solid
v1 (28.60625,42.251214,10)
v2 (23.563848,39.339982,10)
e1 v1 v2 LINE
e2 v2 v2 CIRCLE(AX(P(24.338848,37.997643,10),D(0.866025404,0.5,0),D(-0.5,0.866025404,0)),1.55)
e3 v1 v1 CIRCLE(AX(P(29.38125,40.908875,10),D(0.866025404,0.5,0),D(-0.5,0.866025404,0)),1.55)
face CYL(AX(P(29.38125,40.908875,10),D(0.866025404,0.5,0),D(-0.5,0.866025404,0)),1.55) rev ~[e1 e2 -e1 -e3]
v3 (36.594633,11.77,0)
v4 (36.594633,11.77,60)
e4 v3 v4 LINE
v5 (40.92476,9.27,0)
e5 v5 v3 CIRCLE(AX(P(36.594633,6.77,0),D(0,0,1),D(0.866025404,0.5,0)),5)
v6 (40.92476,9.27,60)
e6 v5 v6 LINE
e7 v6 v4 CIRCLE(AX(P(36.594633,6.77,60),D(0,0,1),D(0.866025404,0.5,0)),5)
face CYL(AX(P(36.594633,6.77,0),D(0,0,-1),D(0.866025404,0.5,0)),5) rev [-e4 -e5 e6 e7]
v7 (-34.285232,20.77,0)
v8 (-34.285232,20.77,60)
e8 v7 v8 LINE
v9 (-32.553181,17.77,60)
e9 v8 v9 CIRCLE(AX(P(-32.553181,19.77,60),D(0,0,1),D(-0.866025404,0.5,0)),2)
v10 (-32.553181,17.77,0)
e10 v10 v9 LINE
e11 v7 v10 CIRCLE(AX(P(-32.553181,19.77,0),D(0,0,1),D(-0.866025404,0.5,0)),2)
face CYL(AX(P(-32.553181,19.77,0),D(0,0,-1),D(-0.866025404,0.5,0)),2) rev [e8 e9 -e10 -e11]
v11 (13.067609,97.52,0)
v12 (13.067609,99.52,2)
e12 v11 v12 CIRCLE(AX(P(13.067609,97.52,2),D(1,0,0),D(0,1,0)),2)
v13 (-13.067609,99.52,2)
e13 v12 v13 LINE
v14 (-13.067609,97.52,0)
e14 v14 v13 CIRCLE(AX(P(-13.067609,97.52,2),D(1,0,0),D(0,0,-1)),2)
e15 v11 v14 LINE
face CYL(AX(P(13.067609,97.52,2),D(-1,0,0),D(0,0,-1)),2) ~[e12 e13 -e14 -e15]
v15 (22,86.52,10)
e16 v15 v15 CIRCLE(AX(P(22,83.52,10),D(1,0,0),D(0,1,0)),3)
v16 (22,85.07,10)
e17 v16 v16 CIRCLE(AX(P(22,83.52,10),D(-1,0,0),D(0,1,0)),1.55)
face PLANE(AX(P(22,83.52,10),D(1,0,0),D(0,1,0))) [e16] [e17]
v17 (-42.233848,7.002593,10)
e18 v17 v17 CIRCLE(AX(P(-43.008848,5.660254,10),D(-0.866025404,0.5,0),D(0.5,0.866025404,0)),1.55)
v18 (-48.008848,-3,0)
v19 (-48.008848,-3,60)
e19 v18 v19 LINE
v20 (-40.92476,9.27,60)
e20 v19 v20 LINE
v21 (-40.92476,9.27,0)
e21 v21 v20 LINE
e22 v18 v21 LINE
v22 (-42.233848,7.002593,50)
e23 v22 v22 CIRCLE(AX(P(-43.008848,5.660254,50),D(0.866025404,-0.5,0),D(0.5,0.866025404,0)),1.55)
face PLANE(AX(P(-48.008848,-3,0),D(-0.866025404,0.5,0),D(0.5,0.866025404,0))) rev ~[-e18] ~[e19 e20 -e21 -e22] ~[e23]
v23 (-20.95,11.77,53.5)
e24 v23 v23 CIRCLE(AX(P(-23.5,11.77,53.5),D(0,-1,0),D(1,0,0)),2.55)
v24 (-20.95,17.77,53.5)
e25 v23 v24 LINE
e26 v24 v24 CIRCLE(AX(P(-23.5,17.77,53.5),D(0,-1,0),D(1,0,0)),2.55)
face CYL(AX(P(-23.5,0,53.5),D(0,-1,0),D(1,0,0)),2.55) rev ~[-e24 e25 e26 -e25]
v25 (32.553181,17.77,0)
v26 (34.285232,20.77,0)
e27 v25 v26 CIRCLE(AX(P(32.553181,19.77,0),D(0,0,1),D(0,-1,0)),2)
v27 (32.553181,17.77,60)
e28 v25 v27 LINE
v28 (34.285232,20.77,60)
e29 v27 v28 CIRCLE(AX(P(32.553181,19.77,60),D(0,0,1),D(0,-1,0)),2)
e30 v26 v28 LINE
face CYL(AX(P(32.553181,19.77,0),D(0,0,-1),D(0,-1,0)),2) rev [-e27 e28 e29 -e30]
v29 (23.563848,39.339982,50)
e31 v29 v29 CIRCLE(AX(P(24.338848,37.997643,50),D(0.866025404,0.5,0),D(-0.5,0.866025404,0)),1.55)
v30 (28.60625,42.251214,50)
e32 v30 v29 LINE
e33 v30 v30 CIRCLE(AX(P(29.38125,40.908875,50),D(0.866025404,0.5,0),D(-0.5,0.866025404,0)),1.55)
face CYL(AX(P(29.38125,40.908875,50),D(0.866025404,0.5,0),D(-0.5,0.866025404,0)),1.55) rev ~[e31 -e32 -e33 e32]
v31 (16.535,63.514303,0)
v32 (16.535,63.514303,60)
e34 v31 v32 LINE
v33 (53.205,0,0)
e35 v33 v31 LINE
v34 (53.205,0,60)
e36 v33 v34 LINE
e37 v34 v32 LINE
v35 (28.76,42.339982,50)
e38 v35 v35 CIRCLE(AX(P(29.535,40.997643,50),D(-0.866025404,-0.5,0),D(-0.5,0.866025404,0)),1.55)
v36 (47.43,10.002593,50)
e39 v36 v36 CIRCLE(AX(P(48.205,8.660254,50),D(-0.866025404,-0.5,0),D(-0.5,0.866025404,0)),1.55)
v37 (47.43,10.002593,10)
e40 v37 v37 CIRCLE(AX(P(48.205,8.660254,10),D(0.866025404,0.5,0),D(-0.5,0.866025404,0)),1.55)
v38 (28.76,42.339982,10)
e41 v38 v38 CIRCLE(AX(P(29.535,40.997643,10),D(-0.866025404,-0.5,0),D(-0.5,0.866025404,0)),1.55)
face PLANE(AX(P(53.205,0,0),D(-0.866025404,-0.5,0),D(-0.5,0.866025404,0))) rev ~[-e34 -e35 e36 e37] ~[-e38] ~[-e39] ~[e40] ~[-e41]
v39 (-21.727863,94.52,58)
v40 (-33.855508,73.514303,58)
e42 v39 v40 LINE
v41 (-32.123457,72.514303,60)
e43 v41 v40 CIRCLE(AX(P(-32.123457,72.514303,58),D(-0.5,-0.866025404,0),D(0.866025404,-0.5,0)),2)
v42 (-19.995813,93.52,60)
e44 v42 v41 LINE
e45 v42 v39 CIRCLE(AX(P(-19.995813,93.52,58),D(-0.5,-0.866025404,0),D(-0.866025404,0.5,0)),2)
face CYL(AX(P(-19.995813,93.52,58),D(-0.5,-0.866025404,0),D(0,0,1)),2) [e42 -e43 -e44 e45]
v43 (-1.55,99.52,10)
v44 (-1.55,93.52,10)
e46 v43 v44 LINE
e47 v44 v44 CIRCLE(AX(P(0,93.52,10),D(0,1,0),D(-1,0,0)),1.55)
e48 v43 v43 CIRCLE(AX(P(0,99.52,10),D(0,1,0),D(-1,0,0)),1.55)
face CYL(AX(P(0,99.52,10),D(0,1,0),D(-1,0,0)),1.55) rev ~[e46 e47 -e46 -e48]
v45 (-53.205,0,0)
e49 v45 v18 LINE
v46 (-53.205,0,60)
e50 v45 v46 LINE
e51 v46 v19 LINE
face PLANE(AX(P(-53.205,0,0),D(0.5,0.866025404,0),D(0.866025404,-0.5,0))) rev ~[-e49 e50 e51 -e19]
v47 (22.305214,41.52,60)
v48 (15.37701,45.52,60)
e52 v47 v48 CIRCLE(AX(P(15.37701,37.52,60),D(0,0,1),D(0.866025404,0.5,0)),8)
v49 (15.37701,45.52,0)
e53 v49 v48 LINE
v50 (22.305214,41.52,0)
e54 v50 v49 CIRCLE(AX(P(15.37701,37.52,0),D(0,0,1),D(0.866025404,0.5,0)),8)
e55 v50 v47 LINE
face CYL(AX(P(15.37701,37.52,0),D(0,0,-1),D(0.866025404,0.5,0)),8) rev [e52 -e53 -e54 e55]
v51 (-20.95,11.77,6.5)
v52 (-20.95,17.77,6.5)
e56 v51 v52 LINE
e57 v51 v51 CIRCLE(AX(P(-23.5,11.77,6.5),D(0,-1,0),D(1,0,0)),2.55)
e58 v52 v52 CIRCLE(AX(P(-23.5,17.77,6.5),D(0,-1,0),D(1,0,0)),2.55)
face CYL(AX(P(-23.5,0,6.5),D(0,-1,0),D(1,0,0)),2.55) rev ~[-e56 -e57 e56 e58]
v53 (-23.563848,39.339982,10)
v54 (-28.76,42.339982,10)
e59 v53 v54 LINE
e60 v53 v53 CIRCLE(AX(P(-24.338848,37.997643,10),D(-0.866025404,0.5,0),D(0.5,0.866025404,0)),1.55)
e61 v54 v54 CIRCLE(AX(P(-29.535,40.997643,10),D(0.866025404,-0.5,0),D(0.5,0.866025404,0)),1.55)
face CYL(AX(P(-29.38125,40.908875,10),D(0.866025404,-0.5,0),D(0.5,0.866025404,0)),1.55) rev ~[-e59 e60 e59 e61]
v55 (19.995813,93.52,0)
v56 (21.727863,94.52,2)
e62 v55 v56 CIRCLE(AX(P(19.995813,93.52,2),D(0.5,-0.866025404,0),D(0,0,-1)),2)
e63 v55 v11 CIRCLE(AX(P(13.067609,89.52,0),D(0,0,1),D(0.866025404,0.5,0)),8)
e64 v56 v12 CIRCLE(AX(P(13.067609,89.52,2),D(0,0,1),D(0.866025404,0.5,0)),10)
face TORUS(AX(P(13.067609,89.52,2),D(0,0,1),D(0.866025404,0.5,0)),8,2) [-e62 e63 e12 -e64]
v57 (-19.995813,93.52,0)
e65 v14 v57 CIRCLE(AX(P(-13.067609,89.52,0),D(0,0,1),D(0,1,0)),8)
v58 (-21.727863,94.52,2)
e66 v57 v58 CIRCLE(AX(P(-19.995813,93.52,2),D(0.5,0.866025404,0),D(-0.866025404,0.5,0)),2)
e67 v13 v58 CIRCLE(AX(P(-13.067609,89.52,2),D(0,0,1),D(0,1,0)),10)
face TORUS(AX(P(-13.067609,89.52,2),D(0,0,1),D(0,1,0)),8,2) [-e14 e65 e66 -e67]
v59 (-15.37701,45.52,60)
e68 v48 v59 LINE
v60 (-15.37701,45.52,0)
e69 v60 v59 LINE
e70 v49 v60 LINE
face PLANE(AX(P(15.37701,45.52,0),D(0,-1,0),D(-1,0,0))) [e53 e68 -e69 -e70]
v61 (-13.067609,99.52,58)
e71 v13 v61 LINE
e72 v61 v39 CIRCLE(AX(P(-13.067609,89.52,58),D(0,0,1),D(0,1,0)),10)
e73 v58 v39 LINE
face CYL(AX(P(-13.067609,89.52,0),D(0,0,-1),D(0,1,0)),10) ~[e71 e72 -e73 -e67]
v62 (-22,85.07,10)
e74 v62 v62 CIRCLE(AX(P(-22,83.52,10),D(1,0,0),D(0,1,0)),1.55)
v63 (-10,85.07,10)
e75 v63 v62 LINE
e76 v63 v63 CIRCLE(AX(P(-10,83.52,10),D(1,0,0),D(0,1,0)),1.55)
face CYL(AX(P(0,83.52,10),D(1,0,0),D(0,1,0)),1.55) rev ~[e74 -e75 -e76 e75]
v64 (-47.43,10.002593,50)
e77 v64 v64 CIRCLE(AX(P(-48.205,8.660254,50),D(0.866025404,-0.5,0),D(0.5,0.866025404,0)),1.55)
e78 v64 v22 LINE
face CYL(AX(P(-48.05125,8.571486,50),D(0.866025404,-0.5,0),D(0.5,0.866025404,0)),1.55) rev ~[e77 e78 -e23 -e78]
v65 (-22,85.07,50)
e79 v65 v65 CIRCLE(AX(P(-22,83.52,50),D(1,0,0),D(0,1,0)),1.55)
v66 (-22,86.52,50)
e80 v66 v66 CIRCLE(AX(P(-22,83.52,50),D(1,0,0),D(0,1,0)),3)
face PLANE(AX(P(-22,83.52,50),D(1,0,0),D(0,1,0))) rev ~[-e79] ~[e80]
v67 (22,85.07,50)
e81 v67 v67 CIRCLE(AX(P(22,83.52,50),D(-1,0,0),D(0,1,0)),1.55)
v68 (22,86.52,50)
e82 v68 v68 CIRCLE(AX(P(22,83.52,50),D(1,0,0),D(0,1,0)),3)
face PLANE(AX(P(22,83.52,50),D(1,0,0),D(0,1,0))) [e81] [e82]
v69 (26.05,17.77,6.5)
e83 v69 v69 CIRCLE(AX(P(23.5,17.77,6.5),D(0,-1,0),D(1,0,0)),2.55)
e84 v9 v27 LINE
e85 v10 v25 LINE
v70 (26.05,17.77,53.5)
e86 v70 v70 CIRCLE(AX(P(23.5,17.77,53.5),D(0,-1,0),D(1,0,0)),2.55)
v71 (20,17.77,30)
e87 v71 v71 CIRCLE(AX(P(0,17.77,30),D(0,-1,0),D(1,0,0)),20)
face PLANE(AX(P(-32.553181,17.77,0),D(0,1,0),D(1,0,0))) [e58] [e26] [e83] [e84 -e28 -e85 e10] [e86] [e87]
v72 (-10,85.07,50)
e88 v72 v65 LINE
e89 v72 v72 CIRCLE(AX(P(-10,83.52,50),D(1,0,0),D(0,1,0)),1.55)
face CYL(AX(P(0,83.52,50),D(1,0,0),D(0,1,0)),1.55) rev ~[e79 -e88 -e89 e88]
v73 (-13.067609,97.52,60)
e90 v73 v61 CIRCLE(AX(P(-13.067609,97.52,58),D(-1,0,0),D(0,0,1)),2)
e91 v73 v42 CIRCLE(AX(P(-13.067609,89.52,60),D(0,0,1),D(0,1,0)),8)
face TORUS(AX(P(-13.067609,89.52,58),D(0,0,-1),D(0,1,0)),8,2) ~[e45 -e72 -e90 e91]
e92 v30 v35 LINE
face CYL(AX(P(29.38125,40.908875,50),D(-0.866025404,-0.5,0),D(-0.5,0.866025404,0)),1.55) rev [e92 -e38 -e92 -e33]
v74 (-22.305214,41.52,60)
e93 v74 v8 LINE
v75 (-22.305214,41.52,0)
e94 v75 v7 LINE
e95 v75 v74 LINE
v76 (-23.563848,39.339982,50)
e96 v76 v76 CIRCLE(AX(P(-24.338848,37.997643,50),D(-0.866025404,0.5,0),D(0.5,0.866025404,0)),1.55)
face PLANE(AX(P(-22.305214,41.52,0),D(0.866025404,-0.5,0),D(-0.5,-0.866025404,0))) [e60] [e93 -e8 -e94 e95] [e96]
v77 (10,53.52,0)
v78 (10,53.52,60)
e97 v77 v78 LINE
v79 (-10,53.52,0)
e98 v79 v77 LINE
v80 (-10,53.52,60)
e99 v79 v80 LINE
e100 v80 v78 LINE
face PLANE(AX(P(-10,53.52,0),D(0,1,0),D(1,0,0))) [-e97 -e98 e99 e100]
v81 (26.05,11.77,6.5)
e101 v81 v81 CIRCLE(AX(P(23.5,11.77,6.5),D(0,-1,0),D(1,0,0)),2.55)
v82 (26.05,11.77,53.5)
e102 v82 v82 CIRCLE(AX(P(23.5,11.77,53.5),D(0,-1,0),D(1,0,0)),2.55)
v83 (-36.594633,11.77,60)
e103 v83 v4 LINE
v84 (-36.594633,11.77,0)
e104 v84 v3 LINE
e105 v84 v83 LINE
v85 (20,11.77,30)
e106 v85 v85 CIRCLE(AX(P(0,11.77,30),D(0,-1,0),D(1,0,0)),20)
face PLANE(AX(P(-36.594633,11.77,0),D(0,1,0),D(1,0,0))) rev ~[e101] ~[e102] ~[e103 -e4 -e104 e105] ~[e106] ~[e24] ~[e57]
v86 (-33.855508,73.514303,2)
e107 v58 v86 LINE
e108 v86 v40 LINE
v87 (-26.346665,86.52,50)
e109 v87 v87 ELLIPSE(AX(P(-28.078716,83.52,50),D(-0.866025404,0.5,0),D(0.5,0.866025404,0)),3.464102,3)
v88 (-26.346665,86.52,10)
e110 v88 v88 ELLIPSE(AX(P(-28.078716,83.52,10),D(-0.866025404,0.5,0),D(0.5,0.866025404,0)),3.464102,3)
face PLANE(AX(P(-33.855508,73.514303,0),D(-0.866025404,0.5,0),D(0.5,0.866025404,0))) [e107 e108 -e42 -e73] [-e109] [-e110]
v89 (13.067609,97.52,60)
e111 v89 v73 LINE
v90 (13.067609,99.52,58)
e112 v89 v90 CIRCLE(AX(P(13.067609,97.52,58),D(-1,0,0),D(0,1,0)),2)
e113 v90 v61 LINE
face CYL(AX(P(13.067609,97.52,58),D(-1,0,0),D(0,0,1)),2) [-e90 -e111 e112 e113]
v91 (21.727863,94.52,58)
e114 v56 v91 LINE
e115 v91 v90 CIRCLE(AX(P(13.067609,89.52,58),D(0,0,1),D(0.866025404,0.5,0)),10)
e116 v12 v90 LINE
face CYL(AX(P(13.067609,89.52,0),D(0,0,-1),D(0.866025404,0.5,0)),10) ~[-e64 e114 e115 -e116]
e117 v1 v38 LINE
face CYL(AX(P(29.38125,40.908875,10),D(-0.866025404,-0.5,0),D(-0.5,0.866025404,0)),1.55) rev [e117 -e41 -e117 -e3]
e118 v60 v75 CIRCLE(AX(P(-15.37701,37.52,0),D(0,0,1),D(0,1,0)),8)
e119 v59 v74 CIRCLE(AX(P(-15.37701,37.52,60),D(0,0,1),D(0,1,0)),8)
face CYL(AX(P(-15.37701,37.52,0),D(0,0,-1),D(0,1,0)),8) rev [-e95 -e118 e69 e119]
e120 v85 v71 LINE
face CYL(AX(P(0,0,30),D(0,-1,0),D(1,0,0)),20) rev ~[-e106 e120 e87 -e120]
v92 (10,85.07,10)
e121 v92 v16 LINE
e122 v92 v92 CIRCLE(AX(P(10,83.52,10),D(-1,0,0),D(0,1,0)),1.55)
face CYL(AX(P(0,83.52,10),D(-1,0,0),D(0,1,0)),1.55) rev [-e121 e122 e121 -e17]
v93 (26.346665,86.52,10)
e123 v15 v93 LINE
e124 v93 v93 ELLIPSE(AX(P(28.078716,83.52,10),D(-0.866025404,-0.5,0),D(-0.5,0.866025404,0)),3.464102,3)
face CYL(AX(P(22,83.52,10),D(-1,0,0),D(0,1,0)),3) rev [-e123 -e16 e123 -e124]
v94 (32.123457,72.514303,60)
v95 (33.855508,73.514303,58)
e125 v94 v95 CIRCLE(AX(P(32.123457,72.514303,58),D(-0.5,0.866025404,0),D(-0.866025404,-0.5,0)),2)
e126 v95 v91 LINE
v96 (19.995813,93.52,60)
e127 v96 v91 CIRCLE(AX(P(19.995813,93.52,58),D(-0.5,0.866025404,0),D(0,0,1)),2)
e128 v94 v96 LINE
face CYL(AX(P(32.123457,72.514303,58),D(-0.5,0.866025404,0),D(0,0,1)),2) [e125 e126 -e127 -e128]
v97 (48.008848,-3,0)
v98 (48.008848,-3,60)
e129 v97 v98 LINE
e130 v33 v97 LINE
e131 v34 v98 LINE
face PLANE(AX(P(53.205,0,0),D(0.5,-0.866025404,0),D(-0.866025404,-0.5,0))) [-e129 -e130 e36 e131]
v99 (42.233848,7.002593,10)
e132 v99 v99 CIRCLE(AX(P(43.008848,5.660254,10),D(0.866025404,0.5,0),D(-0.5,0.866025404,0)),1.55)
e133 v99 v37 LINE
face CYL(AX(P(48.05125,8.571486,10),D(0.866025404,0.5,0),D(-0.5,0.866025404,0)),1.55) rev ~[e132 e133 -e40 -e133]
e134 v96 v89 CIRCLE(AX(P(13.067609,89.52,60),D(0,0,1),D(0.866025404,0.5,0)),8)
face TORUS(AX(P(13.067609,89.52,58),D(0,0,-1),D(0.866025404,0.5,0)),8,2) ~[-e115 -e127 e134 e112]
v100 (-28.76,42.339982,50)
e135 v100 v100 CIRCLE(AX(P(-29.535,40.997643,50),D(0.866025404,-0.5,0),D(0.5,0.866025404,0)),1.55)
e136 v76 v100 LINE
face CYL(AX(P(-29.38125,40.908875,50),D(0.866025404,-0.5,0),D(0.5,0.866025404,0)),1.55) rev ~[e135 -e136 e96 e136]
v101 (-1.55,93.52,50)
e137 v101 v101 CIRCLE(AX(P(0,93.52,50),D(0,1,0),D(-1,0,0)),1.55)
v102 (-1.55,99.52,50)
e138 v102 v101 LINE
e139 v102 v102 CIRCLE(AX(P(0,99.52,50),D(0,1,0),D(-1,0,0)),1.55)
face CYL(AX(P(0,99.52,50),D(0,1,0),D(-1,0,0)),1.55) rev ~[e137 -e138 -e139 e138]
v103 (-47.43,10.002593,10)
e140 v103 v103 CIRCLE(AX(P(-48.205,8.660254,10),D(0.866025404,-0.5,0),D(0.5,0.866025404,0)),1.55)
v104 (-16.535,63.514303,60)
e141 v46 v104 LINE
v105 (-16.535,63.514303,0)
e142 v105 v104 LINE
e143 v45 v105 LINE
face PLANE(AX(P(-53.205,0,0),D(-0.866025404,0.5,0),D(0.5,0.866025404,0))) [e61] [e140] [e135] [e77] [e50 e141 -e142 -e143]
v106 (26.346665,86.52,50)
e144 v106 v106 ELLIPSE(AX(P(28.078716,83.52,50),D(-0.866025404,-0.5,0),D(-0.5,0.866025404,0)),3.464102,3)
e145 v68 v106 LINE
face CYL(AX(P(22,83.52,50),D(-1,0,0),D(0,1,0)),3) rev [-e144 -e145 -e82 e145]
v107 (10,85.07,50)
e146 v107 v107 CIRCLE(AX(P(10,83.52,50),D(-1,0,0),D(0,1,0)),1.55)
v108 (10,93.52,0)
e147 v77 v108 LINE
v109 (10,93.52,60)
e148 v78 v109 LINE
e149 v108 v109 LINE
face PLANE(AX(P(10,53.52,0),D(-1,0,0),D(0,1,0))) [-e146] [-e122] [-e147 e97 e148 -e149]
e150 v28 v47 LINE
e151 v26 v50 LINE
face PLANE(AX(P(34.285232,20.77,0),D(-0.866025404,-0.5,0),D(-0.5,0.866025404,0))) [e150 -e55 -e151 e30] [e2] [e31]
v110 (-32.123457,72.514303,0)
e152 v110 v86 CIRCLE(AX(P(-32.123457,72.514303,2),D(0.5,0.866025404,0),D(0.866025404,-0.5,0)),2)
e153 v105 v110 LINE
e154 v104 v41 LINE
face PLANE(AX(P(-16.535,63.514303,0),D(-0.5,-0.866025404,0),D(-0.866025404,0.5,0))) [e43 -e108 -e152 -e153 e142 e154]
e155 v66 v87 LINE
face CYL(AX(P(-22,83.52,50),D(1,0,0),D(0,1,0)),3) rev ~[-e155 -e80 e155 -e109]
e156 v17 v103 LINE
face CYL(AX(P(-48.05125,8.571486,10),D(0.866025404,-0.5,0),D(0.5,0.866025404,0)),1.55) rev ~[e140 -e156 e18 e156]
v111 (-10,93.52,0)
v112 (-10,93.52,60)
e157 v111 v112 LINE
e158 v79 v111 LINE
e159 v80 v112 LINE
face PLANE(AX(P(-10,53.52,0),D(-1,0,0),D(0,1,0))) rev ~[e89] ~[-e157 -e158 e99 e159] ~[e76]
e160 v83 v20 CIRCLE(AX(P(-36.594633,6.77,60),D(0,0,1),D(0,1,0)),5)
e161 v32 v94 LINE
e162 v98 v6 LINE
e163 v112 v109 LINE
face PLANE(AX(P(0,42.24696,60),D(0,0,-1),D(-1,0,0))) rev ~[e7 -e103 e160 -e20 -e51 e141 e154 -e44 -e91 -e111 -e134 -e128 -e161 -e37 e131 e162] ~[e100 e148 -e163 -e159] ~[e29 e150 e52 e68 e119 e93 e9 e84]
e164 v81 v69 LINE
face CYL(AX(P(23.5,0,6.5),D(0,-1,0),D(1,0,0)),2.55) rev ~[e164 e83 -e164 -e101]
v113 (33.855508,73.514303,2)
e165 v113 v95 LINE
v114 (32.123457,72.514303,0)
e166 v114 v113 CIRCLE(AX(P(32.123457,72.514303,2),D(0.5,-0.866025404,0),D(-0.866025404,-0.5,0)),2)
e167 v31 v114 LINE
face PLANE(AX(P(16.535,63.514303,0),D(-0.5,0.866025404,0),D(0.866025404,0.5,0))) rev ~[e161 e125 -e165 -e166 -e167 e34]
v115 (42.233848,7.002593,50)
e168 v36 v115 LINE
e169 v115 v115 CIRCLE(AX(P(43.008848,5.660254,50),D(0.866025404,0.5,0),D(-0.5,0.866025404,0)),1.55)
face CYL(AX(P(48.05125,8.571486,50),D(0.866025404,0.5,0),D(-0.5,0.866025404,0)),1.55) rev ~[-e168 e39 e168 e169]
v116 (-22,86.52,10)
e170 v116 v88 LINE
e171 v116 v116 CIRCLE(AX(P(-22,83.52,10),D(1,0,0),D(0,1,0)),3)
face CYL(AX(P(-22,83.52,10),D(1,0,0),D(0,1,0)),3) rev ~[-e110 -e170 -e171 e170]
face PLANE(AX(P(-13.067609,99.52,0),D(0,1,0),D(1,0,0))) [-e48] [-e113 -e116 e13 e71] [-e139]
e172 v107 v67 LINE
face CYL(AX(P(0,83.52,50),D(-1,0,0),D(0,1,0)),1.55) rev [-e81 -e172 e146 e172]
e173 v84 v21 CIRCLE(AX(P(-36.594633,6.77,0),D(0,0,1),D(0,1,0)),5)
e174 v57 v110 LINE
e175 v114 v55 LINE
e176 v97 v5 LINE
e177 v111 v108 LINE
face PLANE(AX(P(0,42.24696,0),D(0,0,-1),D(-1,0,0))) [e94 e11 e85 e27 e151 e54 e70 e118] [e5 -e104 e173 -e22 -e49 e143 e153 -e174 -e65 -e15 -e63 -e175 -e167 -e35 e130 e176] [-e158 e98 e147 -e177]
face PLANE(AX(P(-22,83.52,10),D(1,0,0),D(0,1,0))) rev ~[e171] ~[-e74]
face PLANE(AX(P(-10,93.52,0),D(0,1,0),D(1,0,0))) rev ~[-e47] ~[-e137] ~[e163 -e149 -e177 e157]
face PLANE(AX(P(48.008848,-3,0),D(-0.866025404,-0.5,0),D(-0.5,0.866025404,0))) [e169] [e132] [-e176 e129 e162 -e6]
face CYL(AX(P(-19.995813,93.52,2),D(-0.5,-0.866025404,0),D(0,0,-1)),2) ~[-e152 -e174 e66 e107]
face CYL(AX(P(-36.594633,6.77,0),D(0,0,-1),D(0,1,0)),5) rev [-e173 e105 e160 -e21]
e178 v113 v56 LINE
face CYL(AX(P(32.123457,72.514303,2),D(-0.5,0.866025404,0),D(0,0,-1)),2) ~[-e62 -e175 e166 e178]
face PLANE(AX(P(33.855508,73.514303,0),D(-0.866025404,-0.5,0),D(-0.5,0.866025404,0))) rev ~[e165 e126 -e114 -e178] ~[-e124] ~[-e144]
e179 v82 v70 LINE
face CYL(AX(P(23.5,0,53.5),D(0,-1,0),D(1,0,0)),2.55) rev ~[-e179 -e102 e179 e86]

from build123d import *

# Parameters (mm, degrees)
SKETCH_W             = 20
SKETCH_H             = 40
PAD_DEPTH            = 60
SKETCH001_R          = 1.55
POCKET_DEPTH         = 6
SKETCH002_R          = 1.55
POCKET001_DEPTH      = 6
SKETCH004_R          = 1.55
POCKET003_DEPTH      = 8
SKETCH005_R          = 20
SKETCH005_R_2        = 2.55
POCKET004_DEPTH      = 20
SKETCH013_R          = 1.55
POCKET011_DEPTH      = 53.206
POCKET011_DEPTH_BACK = 53.206
SKETCH014_R          = 3
POCKET012_DEPTH      = 31.206
SKETCH015_R          = 3
POCKET013_DEPTH      = 31.206
FILLET_R             = 2


with BuildPart() as part:
    # Sketch → Pad (new body)
    with BuildSketch(Plane.XY):
        with BuildLine():
            Line((-53.205, 0), (-16.535, 63.5143031136))
            Line((-16.535, 63.5143031136), (-33.8555080757, 73.5143031136))
            Line((-33.8555080757, 73.5143031136), (-21.7278633238, 94.52))
            ThreePointArc((-13.0676092859, 99.52), (-18.0676092859, 98.1802540378), (-21.7278633238, 94.52))
            Line((-13.0676092859, 99.52), (13.0676092859, 99.52))
            ThreePointArc((21.7278633238, 94.52), (18.0676092859, 98.1802540378), (13.0676092859, 99.52))
            Line((33.8555080757, 73.5143031136), (21.7278633238, 94.52))
            Line((16.535, 63.5143031136), (33.8555080757, 73.5143031136))
            Line((53.205, 0), (16.535, 63.5143031136))
            Line((53.205, 0), (48.0088475773, -3))
            Line((48.0088475773, -3), (40.9247597743, 9.27))
            ThreePointArc((40.9247597743, 9.27), (39.0946327554, 11.1001270189), (36.5946327554, 11.77))
            Line((-36.5946327554, 11.77), (36.5946327554, 11.77))
            ThreePointArc((-36.5946327554, 11.77), (-39.0946327554, 11.1001270189), (-40.9247597743, 9.27))
            Line((-48.0088475773, -3), (-40.9247597743, 9.27))
            Line((-53.205, 0), (-48.0088475773, -3))
        make_face()
        with Locations((0, 73.52)):
            Rectangle(SKETCH_W, SKETCH_H, mode=Mode.SUBTRACT)
        with BuildLine():
            Line((-22.305213593, 41.52), (-34.2852316787, 20.77))
            ThreePointArc((-34.2852316787, 20.77), (-34.2852316787, 18.77), (-32.5531808711, 17.77))
            Line((-32.5531808711, 17.77), (32.5531808711, 17.77))
            ThreePointArc((32.5531808711, 17.77), (34.2852316787, 18.77), (34.2852316787, 20.77))
            Line((34.2852316787, 20.77), (22.305213593, 41.52))
            ThreePointArc((22.305213593, 41.52), (19.3770103627, 44.4482032303), (15.3770103627, 45.52))
            Line((15.3770103627, 45.52), (-15.3770103627, 45.52))
            ThreePointArc((-15.3770103627, 45.52), (-19.3770103627, 44.4482032303), (-22.305213593, 41.52))
        make_face(mode=Mode.SUBTRACT)
    extrude(amount=PAD_DEPTH)

    # Sketch001 (on DatumPlane) → Pocket (cut, symmetric)
    with BuildSketch(Plane(origin=(53, 0, 0), x_dir=(-0.5, 0.8660254038, 0), z_dir=(0.8660254038, 0.5, 0))):
        with Locations((47.2375, 50)):
            Circle(SKETCH001_R)
        with Locations((9.8975, 50)):
            Circle(SKETCH001_R)
        with Locations((47.2375, 10)):
            Circle(SKETCH001_R)
        with Locations((9.8975, 10)):
            Circle(SKETCH001_R)
    extrude(amount=POCKET_DEPTH, both=True, mode=Mode.SUBTRACT)

    # Sketch002 (on DatumPlane) → Pocket001 (cut, symmetric)
    with BuildSketch(Plane(origin=(-53, 0, 0), x_dir=(0.5, 0.8660254038, 0), z_dir=(0.8660254038, -0.5, 0))):
        with Locations((47.2375, 50)):
            Circle(SKETCH002_R)
        with Locations((47.2375, 10)):
            Circle(SKETCH002_R)
        with Locations((9.8975, 10)):
            Circle(SKETCH002_R)
        with Locations((9.8975, 50)):
            Circle(SKETCH002_R)
    extrude(amount=POCKET001_DEPTH, both=True, mode=Mode.SUBTRACT)

    # Sketch004 → Pocket003 (cut)
    with BuildSketch(Plane(origin=(0, 99.52, 0), x_dir=(-1, 0, 0), z_dir=(0, 1, 0))):
        with Locations((0, 50)):
            Circle(SKETCH004_R)
        with Locations((0, 10)):
            Circle(SKETCH004_R)
    extrude(amount=-POCKET003_DEPTH, mode=Mode.SUBTRACT)

    # Sketch005 → Pocket004 (cut)
    with BuildSketch(Plane.XZ):
        with Locations((0, 30)):
            Circle(SKETCH005_R)
        with Locations((23.5, 53.5)):
            Circle(SKETCH005_R_2)
        with Locations((23.5, 6.5)):
            Circle(SKETCH005_R_2)
        with Locations((-23.5, 6.5)):
            Circle(SKETCH005_R_2)
        with Locations((-23.5, 53.5)):
            Circle(SKETCH005_R_2)
    extrude(amount=-POCKET004_DEPTH, mode=Mode.SUBTRACT)

    # Sketch013 → Pocket011 (cut, two sides)
    with BuildSketch(Plane.YZ) as pocket011_sk:
        with Locations((83.52, 50)):
            Circle(SKETCH013_R)
        with Locations((83.52, 10)):
            Circle(SKETCH013_R)
    extrude(amount=-POCKET011_DEPTH, mode=Mode.SUBTRACT)
    extrude(pocket011_sk.sketch, amount=POCKET011_DEPTH_BACK, mode=Mode.SUBTRACT)

    # Sketch014 → Pocket012 (cut, through all)
    with BuildSketch(Plane.YZ.offset(22)):
        with Locations((83.52, 50)):
            Circle(SKETCH014_R)
        with Locations((83.52, 10)):
            Circle(SKETCH014_R)
    extrude(amount=POCKET012_DEPTH, mode=Mode.SUBTRACT)

    # Sketch015 → Pocket013 (cut, through all)
    with BuildSketch(Plane.YZ.offset(-22)):
        with Locations((83.52, 50)):
            Circle(SKETCH015_R)
        with Locations((83.52, 10)):
            Circle(SKETCH015_R)
    extrude(amount=-POCKET013_DEPTH, mode=Mode.SUBTRACT)

    # Fillet
    fillet_edges = [part.edges().sort_by_distance(p)[0] for p in [
        (27.791686, 84.017152, 60),
        (18.067609, 98.180254, 60),
        (0, 99.52, 60),
        (-18.067609, 98.180254, 60),
        (-27.791686, 84.017152, 60),
        (27.791686, 84.017152, 0),
        (18.067609, 98.180254, 0),
        (0, 99.52, 0),
        (-18.067609, 98.180254, 0),
        (-27.791686, 84.017152, 0),
    ]]
    fillet(fillet_edges, radius=FILLET_R)


solid = part.part
